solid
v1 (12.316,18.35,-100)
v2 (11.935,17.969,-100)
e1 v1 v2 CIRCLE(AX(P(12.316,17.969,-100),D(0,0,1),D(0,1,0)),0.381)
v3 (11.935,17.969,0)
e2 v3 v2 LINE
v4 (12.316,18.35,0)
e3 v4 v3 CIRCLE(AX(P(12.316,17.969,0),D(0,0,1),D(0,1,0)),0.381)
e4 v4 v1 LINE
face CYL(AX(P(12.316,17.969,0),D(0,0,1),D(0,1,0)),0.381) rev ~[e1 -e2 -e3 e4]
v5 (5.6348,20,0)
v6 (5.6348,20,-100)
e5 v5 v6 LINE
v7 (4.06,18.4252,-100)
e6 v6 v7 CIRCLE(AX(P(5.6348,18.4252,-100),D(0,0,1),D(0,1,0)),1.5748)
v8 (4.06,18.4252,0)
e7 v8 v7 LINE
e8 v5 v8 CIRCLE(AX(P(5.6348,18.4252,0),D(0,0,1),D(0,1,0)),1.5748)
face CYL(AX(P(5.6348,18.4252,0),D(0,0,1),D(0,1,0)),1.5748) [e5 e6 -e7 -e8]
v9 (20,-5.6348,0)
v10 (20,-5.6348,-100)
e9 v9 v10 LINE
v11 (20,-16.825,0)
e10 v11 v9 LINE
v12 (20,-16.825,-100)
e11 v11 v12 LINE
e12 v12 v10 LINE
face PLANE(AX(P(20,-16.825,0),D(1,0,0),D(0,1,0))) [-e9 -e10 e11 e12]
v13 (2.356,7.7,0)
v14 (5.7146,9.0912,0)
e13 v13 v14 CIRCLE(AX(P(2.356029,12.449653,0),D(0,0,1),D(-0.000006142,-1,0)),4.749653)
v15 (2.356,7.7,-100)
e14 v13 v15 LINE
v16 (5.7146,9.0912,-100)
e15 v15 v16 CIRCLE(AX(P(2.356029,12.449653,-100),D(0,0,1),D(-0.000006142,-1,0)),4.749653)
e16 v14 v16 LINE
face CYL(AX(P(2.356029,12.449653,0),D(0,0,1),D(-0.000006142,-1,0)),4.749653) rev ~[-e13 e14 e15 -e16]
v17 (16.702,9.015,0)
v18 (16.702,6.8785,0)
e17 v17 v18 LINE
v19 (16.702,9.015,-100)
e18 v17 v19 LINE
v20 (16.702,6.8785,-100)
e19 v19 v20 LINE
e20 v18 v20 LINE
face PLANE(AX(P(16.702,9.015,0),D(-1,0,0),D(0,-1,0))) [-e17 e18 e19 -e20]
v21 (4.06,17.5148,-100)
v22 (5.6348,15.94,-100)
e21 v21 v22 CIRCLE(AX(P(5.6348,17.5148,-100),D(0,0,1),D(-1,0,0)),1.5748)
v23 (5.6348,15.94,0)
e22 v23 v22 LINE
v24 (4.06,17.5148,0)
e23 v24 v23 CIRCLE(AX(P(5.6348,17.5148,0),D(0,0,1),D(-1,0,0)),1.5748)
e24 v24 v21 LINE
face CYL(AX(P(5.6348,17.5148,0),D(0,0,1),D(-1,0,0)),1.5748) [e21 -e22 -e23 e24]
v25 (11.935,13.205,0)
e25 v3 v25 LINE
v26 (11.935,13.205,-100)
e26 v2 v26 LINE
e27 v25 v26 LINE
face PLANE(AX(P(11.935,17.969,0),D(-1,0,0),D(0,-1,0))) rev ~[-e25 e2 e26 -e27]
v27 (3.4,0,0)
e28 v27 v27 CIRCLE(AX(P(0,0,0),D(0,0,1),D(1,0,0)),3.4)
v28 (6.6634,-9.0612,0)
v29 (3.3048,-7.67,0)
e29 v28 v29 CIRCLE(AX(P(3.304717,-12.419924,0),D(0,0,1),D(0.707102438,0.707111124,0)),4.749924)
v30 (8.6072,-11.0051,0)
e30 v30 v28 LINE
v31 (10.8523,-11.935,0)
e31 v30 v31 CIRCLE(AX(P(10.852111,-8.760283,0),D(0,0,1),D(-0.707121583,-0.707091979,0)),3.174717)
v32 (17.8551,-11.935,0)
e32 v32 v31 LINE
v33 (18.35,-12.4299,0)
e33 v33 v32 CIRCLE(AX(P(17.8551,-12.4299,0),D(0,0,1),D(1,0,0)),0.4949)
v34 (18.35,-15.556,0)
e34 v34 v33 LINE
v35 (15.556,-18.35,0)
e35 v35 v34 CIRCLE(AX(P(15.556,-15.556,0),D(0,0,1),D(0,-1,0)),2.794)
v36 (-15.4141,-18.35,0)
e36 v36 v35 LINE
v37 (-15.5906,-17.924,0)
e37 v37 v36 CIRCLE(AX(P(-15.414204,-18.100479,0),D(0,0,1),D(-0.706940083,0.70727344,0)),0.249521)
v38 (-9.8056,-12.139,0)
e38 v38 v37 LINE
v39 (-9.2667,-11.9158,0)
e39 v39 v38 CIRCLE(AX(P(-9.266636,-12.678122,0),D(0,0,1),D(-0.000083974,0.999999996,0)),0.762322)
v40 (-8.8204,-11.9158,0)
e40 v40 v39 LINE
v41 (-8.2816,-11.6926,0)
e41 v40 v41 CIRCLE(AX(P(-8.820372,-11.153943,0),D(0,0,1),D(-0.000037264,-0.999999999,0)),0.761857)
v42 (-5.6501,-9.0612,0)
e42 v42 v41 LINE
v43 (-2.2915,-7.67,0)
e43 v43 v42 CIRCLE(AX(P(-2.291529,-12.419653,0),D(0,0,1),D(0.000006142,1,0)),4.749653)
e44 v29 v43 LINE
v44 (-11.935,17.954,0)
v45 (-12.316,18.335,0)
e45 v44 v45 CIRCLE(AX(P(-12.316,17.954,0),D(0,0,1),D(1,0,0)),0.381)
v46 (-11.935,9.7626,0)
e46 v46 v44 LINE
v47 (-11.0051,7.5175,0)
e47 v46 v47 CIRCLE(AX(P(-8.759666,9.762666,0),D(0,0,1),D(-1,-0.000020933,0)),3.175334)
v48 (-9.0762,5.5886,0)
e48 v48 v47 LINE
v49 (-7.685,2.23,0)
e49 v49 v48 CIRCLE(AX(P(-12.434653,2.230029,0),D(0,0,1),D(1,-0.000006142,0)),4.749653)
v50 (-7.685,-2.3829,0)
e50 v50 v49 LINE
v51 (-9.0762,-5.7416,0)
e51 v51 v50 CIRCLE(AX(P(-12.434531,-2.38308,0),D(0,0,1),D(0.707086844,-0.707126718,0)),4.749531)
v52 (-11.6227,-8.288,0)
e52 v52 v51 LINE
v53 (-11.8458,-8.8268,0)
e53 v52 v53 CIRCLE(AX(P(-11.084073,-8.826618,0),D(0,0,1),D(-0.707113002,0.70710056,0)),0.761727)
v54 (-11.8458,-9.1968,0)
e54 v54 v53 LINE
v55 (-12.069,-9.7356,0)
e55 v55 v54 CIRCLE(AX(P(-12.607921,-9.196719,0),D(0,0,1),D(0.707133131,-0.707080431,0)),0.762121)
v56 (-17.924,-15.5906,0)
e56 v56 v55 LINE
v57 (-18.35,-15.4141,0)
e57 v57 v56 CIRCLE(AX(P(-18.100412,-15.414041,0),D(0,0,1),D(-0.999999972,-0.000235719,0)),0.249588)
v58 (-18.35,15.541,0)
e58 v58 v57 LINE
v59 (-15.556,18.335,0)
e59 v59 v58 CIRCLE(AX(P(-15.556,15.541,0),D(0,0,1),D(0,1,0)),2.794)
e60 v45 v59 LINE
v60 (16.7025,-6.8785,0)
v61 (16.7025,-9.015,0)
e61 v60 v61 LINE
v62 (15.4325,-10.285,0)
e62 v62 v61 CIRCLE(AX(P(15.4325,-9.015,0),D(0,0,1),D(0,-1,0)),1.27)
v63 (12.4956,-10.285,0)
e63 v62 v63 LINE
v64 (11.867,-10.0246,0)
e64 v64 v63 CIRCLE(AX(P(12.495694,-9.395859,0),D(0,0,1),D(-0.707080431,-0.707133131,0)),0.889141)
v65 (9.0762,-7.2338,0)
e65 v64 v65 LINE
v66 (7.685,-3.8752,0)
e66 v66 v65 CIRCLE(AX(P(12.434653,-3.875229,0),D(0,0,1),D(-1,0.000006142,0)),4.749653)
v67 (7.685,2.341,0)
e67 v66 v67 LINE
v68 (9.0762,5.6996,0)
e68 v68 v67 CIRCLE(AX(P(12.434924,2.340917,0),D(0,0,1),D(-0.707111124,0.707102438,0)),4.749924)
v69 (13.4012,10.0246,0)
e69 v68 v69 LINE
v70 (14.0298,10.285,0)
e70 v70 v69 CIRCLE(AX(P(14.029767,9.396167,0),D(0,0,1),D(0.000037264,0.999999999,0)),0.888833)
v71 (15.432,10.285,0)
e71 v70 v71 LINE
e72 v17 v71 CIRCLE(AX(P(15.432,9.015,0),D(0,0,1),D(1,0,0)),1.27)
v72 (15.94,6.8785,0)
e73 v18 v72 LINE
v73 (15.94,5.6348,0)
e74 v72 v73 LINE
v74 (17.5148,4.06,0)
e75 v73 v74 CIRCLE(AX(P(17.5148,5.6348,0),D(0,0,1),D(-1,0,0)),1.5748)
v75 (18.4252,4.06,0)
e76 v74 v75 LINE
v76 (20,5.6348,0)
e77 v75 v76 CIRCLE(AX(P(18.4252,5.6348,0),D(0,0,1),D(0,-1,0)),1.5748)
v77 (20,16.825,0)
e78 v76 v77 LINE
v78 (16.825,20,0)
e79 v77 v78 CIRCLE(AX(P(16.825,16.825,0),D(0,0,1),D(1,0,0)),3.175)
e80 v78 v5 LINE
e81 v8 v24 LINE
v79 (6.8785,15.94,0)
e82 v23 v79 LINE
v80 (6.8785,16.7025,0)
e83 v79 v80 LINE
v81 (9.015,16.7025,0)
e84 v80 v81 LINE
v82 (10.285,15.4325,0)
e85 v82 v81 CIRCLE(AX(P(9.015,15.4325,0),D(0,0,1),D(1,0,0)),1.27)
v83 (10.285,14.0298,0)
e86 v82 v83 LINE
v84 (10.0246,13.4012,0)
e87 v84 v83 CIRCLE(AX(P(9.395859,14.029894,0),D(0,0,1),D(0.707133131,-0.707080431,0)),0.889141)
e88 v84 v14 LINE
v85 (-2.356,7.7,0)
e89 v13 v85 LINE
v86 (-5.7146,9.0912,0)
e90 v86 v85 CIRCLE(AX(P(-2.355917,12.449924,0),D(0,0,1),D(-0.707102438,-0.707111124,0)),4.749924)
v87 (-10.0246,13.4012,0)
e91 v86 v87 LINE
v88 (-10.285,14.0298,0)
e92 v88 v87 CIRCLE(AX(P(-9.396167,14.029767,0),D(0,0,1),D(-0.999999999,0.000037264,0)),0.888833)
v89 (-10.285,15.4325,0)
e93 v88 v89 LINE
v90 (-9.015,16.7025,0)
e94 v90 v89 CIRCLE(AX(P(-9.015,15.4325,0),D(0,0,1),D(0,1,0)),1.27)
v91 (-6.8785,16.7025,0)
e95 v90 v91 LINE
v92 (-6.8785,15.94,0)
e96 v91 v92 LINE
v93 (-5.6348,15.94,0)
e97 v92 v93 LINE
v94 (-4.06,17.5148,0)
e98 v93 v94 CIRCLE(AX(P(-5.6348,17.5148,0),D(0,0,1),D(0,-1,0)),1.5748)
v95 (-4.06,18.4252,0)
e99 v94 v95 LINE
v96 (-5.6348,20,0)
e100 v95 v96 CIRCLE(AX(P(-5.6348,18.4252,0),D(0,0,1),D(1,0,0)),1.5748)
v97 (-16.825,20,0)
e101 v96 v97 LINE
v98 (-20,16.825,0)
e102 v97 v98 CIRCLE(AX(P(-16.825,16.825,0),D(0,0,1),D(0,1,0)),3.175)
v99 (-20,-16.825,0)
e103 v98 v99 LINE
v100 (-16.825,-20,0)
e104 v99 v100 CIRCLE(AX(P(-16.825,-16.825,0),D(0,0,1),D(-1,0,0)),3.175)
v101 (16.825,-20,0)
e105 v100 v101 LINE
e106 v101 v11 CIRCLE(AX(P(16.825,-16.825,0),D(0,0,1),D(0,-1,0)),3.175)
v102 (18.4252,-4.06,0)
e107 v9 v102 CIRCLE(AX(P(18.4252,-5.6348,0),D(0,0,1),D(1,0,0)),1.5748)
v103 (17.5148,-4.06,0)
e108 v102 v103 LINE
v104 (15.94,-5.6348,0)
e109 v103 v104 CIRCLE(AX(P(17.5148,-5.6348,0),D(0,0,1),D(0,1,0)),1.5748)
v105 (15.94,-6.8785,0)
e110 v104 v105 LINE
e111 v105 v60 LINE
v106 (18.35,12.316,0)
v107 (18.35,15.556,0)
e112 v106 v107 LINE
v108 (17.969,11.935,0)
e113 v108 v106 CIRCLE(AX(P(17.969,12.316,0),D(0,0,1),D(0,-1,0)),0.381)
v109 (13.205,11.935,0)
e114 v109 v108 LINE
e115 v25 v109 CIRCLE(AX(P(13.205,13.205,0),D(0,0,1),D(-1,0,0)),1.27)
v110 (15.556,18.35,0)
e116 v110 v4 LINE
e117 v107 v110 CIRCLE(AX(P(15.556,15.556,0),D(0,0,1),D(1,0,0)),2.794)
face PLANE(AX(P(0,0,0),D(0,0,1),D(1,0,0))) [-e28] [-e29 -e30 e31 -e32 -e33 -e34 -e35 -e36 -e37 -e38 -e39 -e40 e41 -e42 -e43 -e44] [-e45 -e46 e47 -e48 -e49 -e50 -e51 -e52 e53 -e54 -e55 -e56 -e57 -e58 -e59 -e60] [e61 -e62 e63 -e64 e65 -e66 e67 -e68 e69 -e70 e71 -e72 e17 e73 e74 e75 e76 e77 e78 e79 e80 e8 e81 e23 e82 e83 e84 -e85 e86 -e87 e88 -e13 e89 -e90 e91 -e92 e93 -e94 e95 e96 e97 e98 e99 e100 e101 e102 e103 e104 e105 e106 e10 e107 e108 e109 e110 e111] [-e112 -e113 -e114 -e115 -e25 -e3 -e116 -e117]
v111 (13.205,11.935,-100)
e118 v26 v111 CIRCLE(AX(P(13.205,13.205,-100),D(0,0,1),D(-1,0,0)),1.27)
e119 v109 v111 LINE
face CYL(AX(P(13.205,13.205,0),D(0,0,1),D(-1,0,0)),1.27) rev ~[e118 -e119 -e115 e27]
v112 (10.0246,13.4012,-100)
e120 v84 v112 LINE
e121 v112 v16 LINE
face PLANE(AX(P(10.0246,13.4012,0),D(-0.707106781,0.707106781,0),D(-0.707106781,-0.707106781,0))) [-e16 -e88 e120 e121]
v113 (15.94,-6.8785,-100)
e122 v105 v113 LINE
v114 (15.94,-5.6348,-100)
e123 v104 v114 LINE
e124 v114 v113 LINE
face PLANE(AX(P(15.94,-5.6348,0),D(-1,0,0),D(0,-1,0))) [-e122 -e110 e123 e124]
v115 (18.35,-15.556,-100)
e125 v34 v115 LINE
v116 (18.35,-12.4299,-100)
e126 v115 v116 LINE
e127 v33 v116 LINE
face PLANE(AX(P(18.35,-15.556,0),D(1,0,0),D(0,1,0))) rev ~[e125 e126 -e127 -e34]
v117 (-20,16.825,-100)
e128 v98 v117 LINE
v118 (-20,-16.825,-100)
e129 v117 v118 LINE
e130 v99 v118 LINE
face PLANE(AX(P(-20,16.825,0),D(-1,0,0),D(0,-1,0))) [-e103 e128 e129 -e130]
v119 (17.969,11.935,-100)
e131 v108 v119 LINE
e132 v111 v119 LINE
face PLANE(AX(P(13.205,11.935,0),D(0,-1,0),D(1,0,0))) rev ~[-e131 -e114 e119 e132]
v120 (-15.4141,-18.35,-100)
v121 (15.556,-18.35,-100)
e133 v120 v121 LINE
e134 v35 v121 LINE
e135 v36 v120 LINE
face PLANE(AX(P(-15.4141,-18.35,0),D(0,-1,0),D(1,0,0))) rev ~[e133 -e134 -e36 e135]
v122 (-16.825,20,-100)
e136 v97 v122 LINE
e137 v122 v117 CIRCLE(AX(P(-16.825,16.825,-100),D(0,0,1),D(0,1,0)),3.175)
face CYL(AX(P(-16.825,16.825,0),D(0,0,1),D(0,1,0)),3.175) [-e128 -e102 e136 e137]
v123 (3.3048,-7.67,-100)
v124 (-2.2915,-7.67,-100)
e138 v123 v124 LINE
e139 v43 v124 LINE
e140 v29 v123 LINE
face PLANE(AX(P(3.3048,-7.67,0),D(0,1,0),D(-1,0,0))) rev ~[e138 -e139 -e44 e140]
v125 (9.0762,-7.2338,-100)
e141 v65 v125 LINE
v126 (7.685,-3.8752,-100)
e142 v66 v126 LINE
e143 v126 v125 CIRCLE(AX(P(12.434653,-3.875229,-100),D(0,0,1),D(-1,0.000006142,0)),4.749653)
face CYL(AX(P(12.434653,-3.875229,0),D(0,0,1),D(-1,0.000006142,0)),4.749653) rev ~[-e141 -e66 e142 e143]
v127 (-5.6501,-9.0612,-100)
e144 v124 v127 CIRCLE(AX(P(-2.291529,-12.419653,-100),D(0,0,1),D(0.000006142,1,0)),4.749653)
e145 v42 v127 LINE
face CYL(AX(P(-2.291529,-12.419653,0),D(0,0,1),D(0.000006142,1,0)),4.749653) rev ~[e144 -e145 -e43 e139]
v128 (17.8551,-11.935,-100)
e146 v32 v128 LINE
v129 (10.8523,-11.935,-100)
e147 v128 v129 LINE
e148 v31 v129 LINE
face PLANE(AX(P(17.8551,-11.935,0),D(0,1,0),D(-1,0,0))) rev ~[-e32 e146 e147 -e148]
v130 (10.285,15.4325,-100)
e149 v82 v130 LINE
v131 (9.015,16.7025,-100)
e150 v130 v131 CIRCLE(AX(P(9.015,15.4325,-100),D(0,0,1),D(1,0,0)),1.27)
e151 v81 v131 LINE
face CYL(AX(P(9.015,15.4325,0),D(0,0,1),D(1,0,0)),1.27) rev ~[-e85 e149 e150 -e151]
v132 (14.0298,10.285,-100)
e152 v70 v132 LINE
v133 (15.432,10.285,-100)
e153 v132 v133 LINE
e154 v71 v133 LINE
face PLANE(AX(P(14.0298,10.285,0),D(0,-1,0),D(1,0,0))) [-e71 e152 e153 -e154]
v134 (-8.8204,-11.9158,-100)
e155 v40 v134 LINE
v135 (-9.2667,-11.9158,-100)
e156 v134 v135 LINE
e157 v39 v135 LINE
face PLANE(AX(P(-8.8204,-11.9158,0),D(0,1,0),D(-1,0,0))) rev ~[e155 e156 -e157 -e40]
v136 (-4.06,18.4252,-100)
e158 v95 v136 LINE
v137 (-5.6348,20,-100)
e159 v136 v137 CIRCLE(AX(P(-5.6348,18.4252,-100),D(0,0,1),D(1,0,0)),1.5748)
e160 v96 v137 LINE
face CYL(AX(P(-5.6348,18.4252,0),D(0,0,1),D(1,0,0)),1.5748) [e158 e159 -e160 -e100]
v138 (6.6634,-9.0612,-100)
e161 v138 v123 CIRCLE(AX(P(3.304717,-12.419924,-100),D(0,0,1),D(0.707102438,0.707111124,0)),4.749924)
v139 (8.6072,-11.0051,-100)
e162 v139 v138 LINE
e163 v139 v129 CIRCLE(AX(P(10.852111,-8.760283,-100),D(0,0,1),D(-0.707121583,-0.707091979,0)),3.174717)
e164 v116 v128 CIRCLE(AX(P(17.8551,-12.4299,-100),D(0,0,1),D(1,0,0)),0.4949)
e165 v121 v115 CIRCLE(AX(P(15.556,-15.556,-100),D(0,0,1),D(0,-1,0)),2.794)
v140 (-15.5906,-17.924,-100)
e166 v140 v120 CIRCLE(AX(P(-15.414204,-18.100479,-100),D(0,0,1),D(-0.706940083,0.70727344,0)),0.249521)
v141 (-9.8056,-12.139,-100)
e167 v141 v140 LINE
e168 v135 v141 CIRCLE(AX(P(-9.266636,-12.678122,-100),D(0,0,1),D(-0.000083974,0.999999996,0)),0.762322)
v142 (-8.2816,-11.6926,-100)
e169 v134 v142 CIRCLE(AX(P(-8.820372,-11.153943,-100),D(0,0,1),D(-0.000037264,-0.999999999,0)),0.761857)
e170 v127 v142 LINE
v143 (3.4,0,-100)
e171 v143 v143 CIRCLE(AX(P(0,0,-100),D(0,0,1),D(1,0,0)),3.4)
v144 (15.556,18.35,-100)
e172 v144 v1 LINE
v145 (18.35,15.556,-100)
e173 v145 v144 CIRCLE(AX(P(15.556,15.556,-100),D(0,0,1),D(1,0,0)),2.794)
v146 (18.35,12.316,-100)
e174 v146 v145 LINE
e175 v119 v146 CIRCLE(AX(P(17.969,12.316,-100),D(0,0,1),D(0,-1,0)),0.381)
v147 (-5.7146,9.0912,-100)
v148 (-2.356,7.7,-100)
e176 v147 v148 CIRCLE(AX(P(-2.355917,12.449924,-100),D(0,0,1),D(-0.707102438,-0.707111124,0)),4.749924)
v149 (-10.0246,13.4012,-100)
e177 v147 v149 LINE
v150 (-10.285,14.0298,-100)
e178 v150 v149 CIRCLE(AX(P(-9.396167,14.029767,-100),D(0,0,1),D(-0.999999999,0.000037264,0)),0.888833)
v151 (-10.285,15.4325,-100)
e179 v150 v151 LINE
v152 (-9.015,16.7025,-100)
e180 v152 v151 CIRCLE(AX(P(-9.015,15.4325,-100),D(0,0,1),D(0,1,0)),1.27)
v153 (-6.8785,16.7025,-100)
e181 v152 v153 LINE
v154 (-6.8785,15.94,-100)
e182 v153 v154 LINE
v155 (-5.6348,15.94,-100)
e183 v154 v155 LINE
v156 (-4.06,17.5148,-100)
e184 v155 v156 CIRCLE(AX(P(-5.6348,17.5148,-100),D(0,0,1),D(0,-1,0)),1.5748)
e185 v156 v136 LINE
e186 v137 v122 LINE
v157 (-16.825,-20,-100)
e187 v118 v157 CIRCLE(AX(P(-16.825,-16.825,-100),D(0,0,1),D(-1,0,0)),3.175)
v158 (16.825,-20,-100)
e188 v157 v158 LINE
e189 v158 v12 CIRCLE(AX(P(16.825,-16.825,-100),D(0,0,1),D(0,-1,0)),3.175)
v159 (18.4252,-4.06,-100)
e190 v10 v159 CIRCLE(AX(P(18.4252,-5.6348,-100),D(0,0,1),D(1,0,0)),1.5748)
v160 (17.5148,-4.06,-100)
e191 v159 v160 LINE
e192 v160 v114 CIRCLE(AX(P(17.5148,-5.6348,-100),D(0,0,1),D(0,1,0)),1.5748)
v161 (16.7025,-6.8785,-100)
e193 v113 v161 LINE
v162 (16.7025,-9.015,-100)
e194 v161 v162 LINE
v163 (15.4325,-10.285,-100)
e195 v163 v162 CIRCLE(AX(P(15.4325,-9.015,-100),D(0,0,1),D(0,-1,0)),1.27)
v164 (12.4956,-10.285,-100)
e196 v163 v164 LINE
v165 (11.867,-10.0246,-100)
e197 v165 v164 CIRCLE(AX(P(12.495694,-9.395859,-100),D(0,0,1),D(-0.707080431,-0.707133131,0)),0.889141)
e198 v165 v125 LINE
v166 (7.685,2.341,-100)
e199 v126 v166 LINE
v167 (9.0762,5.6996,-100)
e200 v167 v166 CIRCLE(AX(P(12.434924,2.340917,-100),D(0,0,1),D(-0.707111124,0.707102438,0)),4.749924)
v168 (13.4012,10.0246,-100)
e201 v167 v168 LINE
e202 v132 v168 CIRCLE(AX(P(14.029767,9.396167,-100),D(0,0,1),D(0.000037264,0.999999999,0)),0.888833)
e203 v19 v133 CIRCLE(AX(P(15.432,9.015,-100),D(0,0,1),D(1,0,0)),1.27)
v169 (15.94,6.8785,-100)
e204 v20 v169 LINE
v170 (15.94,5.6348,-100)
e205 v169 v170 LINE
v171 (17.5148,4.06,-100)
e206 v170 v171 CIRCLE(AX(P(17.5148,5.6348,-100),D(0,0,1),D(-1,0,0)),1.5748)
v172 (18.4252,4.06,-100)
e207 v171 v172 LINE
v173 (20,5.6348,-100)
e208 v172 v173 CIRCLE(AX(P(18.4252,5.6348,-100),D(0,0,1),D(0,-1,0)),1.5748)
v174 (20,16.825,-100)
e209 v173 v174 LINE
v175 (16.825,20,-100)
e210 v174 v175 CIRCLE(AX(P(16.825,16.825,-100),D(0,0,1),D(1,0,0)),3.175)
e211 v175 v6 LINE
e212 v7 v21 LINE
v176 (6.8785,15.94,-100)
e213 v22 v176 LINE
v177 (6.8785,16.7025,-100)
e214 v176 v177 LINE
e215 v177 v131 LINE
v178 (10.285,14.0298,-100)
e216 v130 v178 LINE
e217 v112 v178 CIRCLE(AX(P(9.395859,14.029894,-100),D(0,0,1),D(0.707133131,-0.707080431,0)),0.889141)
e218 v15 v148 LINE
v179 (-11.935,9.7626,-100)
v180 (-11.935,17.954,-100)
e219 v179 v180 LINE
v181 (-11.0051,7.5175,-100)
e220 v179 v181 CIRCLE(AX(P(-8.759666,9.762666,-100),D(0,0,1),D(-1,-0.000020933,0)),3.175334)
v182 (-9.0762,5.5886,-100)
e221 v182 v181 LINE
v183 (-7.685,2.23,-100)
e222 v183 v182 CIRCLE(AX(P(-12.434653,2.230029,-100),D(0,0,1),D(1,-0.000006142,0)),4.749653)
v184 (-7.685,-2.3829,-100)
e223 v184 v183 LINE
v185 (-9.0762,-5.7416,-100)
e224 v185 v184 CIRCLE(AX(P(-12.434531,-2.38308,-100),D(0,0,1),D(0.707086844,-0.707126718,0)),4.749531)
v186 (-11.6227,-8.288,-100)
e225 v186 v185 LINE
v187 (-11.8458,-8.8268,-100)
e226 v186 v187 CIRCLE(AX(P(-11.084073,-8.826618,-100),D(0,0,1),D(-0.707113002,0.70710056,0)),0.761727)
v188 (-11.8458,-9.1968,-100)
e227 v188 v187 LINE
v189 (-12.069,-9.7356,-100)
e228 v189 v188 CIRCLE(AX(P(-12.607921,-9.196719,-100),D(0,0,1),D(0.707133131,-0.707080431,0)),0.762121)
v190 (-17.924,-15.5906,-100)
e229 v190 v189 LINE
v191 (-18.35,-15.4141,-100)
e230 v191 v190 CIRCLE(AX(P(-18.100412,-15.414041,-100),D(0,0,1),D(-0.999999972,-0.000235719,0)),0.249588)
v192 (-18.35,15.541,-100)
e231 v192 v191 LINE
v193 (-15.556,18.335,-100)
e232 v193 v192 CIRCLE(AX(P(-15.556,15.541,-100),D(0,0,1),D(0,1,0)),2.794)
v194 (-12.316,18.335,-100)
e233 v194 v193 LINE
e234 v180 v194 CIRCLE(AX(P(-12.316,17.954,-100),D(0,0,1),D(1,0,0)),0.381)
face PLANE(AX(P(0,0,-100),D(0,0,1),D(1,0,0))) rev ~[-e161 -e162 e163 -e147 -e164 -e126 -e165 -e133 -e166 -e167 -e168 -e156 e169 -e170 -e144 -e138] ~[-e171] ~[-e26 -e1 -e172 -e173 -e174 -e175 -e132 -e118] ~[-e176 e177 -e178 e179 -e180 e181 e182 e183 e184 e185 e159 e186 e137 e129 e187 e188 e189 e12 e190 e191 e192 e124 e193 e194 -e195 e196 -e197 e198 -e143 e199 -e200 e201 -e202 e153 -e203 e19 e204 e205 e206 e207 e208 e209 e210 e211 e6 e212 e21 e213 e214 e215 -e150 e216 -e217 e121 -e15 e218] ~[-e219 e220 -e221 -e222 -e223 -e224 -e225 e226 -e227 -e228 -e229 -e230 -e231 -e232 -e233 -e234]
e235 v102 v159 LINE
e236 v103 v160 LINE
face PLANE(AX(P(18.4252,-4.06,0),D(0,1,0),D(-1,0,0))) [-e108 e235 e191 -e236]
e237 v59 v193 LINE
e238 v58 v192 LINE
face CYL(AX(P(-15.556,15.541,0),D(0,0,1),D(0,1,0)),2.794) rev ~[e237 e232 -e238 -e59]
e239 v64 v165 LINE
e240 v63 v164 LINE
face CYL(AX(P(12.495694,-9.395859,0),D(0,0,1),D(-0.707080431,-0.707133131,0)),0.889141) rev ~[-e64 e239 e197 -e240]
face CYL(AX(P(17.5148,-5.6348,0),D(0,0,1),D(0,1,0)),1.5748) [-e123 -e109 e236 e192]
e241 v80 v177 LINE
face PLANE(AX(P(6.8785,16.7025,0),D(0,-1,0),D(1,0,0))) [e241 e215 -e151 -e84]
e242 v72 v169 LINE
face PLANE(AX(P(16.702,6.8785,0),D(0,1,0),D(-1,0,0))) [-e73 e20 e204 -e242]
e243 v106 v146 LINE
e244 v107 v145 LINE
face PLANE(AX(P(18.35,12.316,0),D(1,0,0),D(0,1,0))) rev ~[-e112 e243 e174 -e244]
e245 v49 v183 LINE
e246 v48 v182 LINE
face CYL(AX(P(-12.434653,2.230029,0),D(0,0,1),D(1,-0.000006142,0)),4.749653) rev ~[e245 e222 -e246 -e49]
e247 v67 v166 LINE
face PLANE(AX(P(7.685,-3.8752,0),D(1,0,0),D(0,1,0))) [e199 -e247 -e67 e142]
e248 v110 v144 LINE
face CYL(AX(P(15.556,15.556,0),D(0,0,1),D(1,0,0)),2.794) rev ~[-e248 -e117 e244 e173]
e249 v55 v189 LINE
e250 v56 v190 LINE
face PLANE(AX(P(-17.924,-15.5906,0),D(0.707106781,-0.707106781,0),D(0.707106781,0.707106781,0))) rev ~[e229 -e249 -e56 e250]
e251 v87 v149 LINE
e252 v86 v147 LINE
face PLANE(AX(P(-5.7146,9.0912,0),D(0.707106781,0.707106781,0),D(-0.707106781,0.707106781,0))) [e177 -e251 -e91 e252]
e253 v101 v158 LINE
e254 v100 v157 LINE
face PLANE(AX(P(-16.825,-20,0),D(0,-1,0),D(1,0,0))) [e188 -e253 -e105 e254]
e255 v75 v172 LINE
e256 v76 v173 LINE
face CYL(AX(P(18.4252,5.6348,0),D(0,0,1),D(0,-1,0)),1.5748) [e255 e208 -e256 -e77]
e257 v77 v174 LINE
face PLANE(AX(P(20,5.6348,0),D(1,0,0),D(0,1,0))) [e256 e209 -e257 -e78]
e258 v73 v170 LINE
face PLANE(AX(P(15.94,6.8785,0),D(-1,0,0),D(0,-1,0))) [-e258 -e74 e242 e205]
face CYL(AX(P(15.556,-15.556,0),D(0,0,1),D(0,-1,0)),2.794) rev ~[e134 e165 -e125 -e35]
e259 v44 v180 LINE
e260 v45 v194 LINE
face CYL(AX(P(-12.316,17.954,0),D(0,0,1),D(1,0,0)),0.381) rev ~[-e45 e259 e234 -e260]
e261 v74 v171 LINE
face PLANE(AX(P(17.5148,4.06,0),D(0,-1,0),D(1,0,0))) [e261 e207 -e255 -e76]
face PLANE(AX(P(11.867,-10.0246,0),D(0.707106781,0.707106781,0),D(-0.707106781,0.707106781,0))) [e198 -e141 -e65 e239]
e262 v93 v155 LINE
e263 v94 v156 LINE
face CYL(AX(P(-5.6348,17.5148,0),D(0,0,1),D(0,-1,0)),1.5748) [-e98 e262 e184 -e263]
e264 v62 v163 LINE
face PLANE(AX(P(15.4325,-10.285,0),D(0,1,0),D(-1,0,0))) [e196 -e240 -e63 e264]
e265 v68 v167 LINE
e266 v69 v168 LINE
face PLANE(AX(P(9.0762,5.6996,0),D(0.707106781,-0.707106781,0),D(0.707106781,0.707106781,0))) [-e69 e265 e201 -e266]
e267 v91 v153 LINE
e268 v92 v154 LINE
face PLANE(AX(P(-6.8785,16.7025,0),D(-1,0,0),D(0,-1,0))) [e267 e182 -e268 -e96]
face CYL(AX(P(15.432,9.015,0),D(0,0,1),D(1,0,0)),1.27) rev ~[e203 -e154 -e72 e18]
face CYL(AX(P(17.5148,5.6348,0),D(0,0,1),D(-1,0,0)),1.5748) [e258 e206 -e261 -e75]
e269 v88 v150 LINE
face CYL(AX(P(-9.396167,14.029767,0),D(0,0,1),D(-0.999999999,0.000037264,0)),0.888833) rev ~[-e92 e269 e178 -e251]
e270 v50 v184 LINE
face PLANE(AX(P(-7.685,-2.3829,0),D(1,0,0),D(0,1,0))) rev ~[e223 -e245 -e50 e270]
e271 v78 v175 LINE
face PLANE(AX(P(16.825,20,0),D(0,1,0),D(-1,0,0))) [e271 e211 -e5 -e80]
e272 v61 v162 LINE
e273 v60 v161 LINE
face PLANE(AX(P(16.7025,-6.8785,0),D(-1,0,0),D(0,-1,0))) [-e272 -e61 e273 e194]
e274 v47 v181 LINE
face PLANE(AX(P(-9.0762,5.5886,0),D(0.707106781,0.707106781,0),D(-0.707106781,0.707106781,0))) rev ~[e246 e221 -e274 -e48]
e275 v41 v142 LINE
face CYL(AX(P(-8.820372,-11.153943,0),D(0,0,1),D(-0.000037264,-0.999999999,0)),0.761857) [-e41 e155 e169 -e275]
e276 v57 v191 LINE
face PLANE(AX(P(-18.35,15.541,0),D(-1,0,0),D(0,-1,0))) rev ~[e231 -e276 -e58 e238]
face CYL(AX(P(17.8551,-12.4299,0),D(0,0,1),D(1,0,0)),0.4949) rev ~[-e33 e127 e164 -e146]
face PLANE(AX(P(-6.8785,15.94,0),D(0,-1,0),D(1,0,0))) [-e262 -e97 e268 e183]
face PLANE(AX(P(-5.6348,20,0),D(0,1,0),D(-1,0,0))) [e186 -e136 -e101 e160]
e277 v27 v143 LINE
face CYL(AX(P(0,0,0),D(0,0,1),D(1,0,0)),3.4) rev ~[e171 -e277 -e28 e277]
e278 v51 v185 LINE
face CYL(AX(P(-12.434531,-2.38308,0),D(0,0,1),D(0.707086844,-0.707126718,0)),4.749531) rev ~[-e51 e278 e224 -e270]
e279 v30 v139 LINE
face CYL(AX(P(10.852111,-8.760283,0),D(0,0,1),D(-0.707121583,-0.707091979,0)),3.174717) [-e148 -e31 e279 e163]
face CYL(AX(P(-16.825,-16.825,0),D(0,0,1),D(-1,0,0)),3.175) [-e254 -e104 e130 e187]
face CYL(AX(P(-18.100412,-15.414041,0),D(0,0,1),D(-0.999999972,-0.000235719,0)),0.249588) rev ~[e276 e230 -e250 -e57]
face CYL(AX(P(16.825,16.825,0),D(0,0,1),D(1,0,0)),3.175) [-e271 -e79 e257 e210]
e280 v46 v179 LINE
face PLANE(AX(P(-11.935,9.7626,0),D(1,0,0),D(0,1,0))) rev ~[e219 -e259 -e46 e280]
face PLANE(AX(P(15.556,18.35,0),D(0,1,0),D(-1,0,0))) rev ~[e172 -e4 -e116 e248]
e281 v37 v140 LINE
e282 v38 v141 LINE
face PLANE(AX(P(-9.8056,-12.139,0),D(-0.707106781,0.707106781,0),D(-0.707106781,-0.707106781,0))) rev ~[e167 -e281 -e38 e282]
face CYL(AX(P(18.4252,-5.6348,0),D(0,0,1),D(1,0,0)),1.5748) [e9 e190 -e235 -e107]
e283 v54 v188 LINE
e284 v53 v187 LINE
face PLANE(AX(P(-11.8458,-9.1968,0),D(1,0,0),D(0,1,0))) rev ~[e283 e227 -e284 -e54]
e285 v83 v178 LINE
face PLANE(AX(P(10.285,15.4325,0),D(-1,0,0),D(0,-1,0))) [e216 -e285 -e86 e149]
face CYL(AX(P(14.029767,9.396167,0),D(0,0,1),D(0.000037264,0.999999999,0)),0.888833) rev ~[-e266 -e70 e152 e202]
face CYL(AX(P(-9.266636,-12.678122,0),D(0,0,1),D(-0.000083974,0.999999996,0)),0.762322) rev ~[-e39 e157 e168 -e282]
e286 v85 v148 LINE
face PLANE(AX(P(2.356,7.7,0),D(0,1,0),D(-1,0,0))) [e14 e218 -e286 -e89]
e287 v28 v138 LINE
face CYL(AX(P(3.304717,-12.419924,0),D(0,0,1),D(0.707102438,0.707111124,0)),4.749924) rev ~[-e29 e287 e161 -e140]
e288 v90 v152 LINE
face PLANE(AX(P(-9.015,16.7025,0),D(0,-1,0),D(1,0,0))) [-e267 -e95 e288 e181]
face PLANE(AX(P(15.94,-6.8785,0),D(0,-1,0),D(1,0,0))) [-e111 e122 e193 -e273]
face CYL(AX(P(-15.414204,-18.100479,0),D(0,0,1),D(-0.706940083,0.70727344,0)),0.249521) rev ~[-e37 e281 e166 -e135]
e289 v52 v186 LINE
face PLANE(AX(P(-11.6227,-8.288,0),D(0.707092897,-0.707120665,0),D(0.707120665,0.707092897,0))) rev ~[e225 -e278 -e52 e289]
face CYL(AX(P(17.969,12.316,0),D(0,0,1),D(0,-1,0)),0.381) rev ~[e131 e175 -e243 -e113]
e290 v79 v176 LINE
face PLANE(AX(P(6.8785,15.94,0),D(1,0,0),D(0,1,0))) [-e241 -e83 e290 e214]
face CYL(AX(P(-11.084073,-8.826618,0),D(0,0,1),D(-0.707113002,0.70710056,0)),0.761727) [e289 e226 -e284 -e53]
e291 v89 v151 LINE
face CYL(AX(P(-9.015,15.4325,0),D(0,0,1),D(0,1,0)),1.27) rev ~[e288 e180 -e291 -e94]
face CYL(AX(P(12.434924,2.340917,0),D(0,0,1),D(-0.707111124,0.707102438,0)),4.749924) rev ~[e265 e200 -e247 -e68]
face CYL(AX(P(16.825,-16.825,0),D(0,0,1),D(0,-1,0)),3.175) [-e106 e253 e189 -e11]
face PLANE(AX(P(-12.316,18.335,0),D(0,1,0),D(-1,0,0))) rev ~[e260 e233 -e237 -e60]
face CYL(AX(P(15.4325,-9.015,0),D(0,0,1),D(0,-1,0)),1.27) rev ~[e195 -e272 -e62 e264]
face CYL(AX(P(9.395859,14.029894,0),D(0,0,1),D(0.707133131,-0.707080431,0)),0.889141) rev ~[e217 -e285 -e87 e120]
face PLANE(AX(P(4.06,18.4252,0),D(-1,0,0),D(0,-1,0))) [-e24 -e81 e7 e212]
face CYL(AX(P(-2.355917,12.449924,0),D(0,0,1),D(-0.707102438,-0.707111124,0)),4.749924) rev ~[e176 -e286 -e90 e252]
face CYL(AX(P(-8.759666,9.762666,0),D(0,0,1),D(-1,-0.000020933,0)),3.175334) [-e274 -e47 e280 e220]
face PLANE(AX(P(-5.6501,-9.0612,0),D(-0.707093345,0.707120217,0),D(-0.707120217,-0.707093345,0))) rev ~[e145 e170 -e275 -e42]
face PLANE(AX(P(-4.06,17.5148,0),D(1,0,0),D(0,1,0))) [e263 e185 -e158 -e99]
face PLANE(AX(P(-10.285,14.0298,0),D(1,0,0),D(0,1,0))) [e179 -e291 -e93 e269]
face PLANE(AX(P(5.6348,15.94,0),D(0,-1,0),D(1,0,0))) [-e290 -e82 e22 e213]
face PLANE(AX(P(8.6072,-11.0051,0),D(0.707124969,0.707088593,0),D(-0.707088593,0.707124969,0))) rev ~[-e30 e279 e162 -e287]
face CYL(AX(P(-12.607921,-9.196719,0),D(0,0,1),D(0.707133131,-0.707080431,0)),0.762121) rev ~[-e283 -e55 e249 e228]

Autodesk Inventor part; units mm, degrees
ref_plane "YZ Plane" through (0, 0, 0) normal (1, 0, 0) x (0, 1, 0)
ref_plane "XZ Plane" through (0, 0, 0) normal (0, 1, 0) x (-1, 0, 0)
ref_plane "XY Plane" through (0, 0, 0) normal (0, 0, 1) x (1, 0, 0)
sketch "Sketch1" plane through (0, 0, 0) normal (0, 0, 1) x (1, 0, 0)
  arc A0 (17.969, 11.935) -> (18.35, 12.316) centre (17.969, 12.316) ccw
  line L0 (13.205, 11.935) -> (17.969, 11.935)
  arc A1 (11.935, 13.205) -> (13.205, 11.935) centre (13.205, 13.205) ccw
  line L1 (11.935, 17.969) -> (11.935, 13.205)
  arc A2 (12.316, 18.35) -> (11.935, 17.969) centre (12.316, 17.969) ccw
  line L2 (15.556, 18.35) -> (12.316, 18.35)
  arc A3 (18.35, 15.556) -> (15.556, 18.35) centre (15.556, 15.556) ccw
  line L3 (18.35, 12.316) -> (18.35, 15.556)
  circle A4 centre (0, 0) radius 3.4
  arc A5 (-9.0762, -5.7416) -> (-7.685, -2.3829) centre (-12.4348, -2.3829) ccw
  line L4 (-11.6227, -8.288) -> (-9.0762, -5.7416)
  arc A6 (-11.6227, -8.288) -> (-11.8458, -8.8268) centre (-11.0838, -8.8268) ccw
  line L5 (-11.8458, -9.1968) -> (-11.8458, -8.8268)
  arc A7 (-12.069, -9.7356) -> (-11.8458, -9.1968) centre (-12.6078, -9.1968) ccw
  line L6 (-17.924, -15.5906) -> (-12.069, -9.7356)
  arc A8 (-18.35, -15.4141) -> (-17.924, -15.5906) centre (-18.1005, -15.4141) ccw
  line L7 (-18.35, 15.541) -> (-18.35, -15.4141)
  arc A9 (-15.556, 18.335) -> (-18.35, 15.541) centre (-15.556, 15.541) ccw
  line L8 (-12.316, 18.335) -> (-15.556, 18.335)
  arc A10 (-11.935, 17.954) -> (-12.316, 18.335) centre (-12.316, 17.954) ccw
  line L9 (-11.935, 9.7626) -> (-11.935, 17.954)
  arc A11 (-11.935, 9.7626) -> (-11.0051, 7.5175) centre (-8.76, 9.7626) ccw
  line L10 (-9.0762, 5.5886) -> (-11.0051, 7.5175)
  arc A12 (-7.685, 2.23) -> (-9.0762, 5.5886) centre (-12.4348, 2.23) ccw
  line L11 (-7.685, -2.3829) -> (-7.685, 2.23)
  line L12 (-15.4141, -18.35) -> (15.556, -18.35)
  arc A13 (-15.5906, -17.924) -> (-15.4141, -18.35) centre (-15.4141, -18.1005) ccw
  line L13 (-9.8056, -12.139) -> (-15.5906, -17.924)
  arc A14 (-9.2667, -11.9158) -> (-9.8056, -12.139) centre (-9.2667, -12.6778) ccw
  line L14 (-8.8204, -11.9158) -> (-9.2667, -11.9158)
  arc A15 (-8.8204, -11.9158) -> (-8.2816, -11.6926) centre (-8.8204, -11.1538) ccw
  line L15 (-5.6501, -9.0612) -> (-8.2816, -11.6926)
  arc A16 (-2.2915, -7.67) -> (-5.6501, -9.0612) centre (-2.2915, -12.4198) ccw
  line L16 (3.3048, -7.67) -> (-2.2915, -7.67)
  arc A17 (6.6634, -9.0612) -> (3.3048, -7.67) centre (3.3048, -12.4198) ccw
  line L17 (8.6072, -11.0051) -> (6.6634, -9.0612)
  arc A18 (8.6072, -11.0051) -> (10.8523, -11.935) centre (10.8523, -8.76) ccw
  line L18 (17.8551, -11.935) -> (10.8523, -11.935)
  arc A19 (18.35, -12.4299) -> (17.8551, -11.935) centre (17.8551, -12.4299) ccw
  line L19 (18.35, -15.556) -> (18.35, -12.4299)
  arc A20 (15.556, -18.35) -> (18.35, -15.556) centre (15.556, -15.556) ccw
  line L20 (-16.825, -20) -> (16.825, -20)
  arc A21 (16.825, -20) -> (20, -16.825) centre (16.825, -16.825) ccw
  line L21 (20, -16.825) -> (20, -5.6348)
  arc A22 (20, -5.6348) -> (18.4252, -4.06) centre (18.4252, -5.6348) ccw
  line L22 (18.4252, -4.06) -> (17.5148, -4.06)
  arc A23 (17.5148, -4.06) -> (15.94, -5.6348) centre (17.5148, -5.6348) ccw
  line L23 (15.94, -5.6348) -> (15.94, -6.8785)
  line L24 (15.94, -6.8785) -> (16.7025, -6.8785)
  line L25 (16.7025, -6.8785) -> (16.7025, -9.015)
  arc A24 (15.4325, -10.285) -> (16.7025, -9.015) centre (15.4325, -9.015) ccw
  line L26 (15.4325, -10.285) -> (12.4956, -10.285)
  arc A25 (11.867, -10.0246) -> (12.4956, -10.285) centre (12.4956, -9.396) ccw
  line L27 (11.867, -10.0246) -> (9.0762, -7.2338)
  arc A26 (7.685, -3.8752) -> (9.0762, -7.2338) centre (12.4348, -3.8752) ccw
  line L28 (7.685, -3.8752) -> (7.685, 2.341)
  arc A27 (9.0762, 5.6996) -> (7.685, 2.341) centre (12.4348, 2.341) ccw
  line L29 (9.0762, 5.6996) -> (13.4012, 10.0246)
  arc A28 (14.0298, 10.285) -> (13.4012, 10.0246) centre (14.0298, 9.396) ccw
  line L30 (14.0298, 10.285) -> (15.432, 10.285)
  arc A29 (16.702, 9.015) -> (15.432, 10.285) centre (15.432, 9.015) ccw
  line L31 (16.702, 9.015) -> (16.702, 6.8785)
  line L32 (16.702, 6.8785) -> (15.94, 6.8785)
  line L33 (15.94, 6.8785) -> (15.94, 5.6348)
  arc A30 (15.94, 5.6348) -> (17.5148, 4.06) centre (17.5148, 5.6348) ccw
  line L34 (17.5148, 4.06) -> (18.4252, 4.06)
  arc A31 (18.4252, 4.06) -> (20, 5.6348) centre (18.4252, 5.6348) ccw
  line L35 (20, 5.6348) -> (20, 16.825)
  arc A32 (20, 16.825) -> (16.825, 20) centre (16.825, 16.825) ccw
  line L36 (16.825, 20) -> (5.6348, 20)
  arc A33 (5.6348, 20) -> (4.06, 18.4252) centre (5.6348, 18.4252) ccw
  line L37 (4.06, 18.4252) -> (4.06, 17.5148)
  arc A34 (4.06, 17.5148) -> (5.6348, 15.94) centre (5.6348, 17.5148) ccw
  line L38 (5.6348, 15.94) -> (6.8785, 15.94)
  line L39 (6.8785, 15.94) -> (6.8785, 16.7025)
  line L40 (6.8785, 16.7025) -> (9.015, 16.7025)
  arc A35 (10.285, 15.4325) -> (9.015, 16.7025) centre (9.015, 15.4325) ccw
  line L41 (10.285, 15.4325) -> (10.285, 14.0298)
  arc A36 (10.0246, 13.4012) -> (10.285, 14.0298) centre (9.396, 14.0298) ccw
  line L42 (10.0246, 13.4012) -> (5.7146, 9.0912)
  arc A37 (2.356, 7.7) -> (5.7146, 9.0912) centre (2.356, 12.4498) ccw
  line L43 (2.356, 7.7) -> (-2.356, 7.7)
  arc A38 (-5.7146, 9.0912) -> (-2.356, 7.7) centre (-2.356, 12.4498) ccw
  line L44 (-5.7146, 9.0912) -> (-10.0246, 13.4012)
  arc A39 (-10.285, 14.0298) -> (-10.0246, 13.4012) centre (-9.396, 14.0298) ccw
  line L45 (-10.285, 14.0298) -> (-10.285, 15.4325)
  arc A40 (-9.015, 16.7025) -> (-10.285, 15.4325) centre (-9.015, 15.4325) ccw
  line L46 (-9.015, 16.7025) -> (-6.8785, 16.7025)
  line L47 (-6.8785, 16.7025) -> (-6.8785, 15.94)
  line L48 (-6.8785, 15.94) -> (-5.6348, 15.94)
  arc A41 (-5.6348, 15.94) -> (-4.06, 17.5148) centre (-5.6348, 17.5148) ccw
  line L49 (-4.06, 17.5148) -> (-4.06, 18.4252)
  arc A42 (-4.06, 18.4252) -> (-5.6348, 20) centre (-5.6348, 18.4252) ccw
  line L50 (-5.6348, 20) -> (-16.825, 20)
  arc A43 (-16.825, 20) -> (-20, 16.825) centre (-16.825, 16.825) ccw
  line L51 (-20, 16.825) -> (-20, -16.825)
  arc A44 (-20, -16.825) -> (-16.825, -20) centre (-16.825, -16.825) ccw
extrude "Extrusion1" add sketch "Sketch1" against normal blind 100
properties part number "40-4002-BLACK-FB"
